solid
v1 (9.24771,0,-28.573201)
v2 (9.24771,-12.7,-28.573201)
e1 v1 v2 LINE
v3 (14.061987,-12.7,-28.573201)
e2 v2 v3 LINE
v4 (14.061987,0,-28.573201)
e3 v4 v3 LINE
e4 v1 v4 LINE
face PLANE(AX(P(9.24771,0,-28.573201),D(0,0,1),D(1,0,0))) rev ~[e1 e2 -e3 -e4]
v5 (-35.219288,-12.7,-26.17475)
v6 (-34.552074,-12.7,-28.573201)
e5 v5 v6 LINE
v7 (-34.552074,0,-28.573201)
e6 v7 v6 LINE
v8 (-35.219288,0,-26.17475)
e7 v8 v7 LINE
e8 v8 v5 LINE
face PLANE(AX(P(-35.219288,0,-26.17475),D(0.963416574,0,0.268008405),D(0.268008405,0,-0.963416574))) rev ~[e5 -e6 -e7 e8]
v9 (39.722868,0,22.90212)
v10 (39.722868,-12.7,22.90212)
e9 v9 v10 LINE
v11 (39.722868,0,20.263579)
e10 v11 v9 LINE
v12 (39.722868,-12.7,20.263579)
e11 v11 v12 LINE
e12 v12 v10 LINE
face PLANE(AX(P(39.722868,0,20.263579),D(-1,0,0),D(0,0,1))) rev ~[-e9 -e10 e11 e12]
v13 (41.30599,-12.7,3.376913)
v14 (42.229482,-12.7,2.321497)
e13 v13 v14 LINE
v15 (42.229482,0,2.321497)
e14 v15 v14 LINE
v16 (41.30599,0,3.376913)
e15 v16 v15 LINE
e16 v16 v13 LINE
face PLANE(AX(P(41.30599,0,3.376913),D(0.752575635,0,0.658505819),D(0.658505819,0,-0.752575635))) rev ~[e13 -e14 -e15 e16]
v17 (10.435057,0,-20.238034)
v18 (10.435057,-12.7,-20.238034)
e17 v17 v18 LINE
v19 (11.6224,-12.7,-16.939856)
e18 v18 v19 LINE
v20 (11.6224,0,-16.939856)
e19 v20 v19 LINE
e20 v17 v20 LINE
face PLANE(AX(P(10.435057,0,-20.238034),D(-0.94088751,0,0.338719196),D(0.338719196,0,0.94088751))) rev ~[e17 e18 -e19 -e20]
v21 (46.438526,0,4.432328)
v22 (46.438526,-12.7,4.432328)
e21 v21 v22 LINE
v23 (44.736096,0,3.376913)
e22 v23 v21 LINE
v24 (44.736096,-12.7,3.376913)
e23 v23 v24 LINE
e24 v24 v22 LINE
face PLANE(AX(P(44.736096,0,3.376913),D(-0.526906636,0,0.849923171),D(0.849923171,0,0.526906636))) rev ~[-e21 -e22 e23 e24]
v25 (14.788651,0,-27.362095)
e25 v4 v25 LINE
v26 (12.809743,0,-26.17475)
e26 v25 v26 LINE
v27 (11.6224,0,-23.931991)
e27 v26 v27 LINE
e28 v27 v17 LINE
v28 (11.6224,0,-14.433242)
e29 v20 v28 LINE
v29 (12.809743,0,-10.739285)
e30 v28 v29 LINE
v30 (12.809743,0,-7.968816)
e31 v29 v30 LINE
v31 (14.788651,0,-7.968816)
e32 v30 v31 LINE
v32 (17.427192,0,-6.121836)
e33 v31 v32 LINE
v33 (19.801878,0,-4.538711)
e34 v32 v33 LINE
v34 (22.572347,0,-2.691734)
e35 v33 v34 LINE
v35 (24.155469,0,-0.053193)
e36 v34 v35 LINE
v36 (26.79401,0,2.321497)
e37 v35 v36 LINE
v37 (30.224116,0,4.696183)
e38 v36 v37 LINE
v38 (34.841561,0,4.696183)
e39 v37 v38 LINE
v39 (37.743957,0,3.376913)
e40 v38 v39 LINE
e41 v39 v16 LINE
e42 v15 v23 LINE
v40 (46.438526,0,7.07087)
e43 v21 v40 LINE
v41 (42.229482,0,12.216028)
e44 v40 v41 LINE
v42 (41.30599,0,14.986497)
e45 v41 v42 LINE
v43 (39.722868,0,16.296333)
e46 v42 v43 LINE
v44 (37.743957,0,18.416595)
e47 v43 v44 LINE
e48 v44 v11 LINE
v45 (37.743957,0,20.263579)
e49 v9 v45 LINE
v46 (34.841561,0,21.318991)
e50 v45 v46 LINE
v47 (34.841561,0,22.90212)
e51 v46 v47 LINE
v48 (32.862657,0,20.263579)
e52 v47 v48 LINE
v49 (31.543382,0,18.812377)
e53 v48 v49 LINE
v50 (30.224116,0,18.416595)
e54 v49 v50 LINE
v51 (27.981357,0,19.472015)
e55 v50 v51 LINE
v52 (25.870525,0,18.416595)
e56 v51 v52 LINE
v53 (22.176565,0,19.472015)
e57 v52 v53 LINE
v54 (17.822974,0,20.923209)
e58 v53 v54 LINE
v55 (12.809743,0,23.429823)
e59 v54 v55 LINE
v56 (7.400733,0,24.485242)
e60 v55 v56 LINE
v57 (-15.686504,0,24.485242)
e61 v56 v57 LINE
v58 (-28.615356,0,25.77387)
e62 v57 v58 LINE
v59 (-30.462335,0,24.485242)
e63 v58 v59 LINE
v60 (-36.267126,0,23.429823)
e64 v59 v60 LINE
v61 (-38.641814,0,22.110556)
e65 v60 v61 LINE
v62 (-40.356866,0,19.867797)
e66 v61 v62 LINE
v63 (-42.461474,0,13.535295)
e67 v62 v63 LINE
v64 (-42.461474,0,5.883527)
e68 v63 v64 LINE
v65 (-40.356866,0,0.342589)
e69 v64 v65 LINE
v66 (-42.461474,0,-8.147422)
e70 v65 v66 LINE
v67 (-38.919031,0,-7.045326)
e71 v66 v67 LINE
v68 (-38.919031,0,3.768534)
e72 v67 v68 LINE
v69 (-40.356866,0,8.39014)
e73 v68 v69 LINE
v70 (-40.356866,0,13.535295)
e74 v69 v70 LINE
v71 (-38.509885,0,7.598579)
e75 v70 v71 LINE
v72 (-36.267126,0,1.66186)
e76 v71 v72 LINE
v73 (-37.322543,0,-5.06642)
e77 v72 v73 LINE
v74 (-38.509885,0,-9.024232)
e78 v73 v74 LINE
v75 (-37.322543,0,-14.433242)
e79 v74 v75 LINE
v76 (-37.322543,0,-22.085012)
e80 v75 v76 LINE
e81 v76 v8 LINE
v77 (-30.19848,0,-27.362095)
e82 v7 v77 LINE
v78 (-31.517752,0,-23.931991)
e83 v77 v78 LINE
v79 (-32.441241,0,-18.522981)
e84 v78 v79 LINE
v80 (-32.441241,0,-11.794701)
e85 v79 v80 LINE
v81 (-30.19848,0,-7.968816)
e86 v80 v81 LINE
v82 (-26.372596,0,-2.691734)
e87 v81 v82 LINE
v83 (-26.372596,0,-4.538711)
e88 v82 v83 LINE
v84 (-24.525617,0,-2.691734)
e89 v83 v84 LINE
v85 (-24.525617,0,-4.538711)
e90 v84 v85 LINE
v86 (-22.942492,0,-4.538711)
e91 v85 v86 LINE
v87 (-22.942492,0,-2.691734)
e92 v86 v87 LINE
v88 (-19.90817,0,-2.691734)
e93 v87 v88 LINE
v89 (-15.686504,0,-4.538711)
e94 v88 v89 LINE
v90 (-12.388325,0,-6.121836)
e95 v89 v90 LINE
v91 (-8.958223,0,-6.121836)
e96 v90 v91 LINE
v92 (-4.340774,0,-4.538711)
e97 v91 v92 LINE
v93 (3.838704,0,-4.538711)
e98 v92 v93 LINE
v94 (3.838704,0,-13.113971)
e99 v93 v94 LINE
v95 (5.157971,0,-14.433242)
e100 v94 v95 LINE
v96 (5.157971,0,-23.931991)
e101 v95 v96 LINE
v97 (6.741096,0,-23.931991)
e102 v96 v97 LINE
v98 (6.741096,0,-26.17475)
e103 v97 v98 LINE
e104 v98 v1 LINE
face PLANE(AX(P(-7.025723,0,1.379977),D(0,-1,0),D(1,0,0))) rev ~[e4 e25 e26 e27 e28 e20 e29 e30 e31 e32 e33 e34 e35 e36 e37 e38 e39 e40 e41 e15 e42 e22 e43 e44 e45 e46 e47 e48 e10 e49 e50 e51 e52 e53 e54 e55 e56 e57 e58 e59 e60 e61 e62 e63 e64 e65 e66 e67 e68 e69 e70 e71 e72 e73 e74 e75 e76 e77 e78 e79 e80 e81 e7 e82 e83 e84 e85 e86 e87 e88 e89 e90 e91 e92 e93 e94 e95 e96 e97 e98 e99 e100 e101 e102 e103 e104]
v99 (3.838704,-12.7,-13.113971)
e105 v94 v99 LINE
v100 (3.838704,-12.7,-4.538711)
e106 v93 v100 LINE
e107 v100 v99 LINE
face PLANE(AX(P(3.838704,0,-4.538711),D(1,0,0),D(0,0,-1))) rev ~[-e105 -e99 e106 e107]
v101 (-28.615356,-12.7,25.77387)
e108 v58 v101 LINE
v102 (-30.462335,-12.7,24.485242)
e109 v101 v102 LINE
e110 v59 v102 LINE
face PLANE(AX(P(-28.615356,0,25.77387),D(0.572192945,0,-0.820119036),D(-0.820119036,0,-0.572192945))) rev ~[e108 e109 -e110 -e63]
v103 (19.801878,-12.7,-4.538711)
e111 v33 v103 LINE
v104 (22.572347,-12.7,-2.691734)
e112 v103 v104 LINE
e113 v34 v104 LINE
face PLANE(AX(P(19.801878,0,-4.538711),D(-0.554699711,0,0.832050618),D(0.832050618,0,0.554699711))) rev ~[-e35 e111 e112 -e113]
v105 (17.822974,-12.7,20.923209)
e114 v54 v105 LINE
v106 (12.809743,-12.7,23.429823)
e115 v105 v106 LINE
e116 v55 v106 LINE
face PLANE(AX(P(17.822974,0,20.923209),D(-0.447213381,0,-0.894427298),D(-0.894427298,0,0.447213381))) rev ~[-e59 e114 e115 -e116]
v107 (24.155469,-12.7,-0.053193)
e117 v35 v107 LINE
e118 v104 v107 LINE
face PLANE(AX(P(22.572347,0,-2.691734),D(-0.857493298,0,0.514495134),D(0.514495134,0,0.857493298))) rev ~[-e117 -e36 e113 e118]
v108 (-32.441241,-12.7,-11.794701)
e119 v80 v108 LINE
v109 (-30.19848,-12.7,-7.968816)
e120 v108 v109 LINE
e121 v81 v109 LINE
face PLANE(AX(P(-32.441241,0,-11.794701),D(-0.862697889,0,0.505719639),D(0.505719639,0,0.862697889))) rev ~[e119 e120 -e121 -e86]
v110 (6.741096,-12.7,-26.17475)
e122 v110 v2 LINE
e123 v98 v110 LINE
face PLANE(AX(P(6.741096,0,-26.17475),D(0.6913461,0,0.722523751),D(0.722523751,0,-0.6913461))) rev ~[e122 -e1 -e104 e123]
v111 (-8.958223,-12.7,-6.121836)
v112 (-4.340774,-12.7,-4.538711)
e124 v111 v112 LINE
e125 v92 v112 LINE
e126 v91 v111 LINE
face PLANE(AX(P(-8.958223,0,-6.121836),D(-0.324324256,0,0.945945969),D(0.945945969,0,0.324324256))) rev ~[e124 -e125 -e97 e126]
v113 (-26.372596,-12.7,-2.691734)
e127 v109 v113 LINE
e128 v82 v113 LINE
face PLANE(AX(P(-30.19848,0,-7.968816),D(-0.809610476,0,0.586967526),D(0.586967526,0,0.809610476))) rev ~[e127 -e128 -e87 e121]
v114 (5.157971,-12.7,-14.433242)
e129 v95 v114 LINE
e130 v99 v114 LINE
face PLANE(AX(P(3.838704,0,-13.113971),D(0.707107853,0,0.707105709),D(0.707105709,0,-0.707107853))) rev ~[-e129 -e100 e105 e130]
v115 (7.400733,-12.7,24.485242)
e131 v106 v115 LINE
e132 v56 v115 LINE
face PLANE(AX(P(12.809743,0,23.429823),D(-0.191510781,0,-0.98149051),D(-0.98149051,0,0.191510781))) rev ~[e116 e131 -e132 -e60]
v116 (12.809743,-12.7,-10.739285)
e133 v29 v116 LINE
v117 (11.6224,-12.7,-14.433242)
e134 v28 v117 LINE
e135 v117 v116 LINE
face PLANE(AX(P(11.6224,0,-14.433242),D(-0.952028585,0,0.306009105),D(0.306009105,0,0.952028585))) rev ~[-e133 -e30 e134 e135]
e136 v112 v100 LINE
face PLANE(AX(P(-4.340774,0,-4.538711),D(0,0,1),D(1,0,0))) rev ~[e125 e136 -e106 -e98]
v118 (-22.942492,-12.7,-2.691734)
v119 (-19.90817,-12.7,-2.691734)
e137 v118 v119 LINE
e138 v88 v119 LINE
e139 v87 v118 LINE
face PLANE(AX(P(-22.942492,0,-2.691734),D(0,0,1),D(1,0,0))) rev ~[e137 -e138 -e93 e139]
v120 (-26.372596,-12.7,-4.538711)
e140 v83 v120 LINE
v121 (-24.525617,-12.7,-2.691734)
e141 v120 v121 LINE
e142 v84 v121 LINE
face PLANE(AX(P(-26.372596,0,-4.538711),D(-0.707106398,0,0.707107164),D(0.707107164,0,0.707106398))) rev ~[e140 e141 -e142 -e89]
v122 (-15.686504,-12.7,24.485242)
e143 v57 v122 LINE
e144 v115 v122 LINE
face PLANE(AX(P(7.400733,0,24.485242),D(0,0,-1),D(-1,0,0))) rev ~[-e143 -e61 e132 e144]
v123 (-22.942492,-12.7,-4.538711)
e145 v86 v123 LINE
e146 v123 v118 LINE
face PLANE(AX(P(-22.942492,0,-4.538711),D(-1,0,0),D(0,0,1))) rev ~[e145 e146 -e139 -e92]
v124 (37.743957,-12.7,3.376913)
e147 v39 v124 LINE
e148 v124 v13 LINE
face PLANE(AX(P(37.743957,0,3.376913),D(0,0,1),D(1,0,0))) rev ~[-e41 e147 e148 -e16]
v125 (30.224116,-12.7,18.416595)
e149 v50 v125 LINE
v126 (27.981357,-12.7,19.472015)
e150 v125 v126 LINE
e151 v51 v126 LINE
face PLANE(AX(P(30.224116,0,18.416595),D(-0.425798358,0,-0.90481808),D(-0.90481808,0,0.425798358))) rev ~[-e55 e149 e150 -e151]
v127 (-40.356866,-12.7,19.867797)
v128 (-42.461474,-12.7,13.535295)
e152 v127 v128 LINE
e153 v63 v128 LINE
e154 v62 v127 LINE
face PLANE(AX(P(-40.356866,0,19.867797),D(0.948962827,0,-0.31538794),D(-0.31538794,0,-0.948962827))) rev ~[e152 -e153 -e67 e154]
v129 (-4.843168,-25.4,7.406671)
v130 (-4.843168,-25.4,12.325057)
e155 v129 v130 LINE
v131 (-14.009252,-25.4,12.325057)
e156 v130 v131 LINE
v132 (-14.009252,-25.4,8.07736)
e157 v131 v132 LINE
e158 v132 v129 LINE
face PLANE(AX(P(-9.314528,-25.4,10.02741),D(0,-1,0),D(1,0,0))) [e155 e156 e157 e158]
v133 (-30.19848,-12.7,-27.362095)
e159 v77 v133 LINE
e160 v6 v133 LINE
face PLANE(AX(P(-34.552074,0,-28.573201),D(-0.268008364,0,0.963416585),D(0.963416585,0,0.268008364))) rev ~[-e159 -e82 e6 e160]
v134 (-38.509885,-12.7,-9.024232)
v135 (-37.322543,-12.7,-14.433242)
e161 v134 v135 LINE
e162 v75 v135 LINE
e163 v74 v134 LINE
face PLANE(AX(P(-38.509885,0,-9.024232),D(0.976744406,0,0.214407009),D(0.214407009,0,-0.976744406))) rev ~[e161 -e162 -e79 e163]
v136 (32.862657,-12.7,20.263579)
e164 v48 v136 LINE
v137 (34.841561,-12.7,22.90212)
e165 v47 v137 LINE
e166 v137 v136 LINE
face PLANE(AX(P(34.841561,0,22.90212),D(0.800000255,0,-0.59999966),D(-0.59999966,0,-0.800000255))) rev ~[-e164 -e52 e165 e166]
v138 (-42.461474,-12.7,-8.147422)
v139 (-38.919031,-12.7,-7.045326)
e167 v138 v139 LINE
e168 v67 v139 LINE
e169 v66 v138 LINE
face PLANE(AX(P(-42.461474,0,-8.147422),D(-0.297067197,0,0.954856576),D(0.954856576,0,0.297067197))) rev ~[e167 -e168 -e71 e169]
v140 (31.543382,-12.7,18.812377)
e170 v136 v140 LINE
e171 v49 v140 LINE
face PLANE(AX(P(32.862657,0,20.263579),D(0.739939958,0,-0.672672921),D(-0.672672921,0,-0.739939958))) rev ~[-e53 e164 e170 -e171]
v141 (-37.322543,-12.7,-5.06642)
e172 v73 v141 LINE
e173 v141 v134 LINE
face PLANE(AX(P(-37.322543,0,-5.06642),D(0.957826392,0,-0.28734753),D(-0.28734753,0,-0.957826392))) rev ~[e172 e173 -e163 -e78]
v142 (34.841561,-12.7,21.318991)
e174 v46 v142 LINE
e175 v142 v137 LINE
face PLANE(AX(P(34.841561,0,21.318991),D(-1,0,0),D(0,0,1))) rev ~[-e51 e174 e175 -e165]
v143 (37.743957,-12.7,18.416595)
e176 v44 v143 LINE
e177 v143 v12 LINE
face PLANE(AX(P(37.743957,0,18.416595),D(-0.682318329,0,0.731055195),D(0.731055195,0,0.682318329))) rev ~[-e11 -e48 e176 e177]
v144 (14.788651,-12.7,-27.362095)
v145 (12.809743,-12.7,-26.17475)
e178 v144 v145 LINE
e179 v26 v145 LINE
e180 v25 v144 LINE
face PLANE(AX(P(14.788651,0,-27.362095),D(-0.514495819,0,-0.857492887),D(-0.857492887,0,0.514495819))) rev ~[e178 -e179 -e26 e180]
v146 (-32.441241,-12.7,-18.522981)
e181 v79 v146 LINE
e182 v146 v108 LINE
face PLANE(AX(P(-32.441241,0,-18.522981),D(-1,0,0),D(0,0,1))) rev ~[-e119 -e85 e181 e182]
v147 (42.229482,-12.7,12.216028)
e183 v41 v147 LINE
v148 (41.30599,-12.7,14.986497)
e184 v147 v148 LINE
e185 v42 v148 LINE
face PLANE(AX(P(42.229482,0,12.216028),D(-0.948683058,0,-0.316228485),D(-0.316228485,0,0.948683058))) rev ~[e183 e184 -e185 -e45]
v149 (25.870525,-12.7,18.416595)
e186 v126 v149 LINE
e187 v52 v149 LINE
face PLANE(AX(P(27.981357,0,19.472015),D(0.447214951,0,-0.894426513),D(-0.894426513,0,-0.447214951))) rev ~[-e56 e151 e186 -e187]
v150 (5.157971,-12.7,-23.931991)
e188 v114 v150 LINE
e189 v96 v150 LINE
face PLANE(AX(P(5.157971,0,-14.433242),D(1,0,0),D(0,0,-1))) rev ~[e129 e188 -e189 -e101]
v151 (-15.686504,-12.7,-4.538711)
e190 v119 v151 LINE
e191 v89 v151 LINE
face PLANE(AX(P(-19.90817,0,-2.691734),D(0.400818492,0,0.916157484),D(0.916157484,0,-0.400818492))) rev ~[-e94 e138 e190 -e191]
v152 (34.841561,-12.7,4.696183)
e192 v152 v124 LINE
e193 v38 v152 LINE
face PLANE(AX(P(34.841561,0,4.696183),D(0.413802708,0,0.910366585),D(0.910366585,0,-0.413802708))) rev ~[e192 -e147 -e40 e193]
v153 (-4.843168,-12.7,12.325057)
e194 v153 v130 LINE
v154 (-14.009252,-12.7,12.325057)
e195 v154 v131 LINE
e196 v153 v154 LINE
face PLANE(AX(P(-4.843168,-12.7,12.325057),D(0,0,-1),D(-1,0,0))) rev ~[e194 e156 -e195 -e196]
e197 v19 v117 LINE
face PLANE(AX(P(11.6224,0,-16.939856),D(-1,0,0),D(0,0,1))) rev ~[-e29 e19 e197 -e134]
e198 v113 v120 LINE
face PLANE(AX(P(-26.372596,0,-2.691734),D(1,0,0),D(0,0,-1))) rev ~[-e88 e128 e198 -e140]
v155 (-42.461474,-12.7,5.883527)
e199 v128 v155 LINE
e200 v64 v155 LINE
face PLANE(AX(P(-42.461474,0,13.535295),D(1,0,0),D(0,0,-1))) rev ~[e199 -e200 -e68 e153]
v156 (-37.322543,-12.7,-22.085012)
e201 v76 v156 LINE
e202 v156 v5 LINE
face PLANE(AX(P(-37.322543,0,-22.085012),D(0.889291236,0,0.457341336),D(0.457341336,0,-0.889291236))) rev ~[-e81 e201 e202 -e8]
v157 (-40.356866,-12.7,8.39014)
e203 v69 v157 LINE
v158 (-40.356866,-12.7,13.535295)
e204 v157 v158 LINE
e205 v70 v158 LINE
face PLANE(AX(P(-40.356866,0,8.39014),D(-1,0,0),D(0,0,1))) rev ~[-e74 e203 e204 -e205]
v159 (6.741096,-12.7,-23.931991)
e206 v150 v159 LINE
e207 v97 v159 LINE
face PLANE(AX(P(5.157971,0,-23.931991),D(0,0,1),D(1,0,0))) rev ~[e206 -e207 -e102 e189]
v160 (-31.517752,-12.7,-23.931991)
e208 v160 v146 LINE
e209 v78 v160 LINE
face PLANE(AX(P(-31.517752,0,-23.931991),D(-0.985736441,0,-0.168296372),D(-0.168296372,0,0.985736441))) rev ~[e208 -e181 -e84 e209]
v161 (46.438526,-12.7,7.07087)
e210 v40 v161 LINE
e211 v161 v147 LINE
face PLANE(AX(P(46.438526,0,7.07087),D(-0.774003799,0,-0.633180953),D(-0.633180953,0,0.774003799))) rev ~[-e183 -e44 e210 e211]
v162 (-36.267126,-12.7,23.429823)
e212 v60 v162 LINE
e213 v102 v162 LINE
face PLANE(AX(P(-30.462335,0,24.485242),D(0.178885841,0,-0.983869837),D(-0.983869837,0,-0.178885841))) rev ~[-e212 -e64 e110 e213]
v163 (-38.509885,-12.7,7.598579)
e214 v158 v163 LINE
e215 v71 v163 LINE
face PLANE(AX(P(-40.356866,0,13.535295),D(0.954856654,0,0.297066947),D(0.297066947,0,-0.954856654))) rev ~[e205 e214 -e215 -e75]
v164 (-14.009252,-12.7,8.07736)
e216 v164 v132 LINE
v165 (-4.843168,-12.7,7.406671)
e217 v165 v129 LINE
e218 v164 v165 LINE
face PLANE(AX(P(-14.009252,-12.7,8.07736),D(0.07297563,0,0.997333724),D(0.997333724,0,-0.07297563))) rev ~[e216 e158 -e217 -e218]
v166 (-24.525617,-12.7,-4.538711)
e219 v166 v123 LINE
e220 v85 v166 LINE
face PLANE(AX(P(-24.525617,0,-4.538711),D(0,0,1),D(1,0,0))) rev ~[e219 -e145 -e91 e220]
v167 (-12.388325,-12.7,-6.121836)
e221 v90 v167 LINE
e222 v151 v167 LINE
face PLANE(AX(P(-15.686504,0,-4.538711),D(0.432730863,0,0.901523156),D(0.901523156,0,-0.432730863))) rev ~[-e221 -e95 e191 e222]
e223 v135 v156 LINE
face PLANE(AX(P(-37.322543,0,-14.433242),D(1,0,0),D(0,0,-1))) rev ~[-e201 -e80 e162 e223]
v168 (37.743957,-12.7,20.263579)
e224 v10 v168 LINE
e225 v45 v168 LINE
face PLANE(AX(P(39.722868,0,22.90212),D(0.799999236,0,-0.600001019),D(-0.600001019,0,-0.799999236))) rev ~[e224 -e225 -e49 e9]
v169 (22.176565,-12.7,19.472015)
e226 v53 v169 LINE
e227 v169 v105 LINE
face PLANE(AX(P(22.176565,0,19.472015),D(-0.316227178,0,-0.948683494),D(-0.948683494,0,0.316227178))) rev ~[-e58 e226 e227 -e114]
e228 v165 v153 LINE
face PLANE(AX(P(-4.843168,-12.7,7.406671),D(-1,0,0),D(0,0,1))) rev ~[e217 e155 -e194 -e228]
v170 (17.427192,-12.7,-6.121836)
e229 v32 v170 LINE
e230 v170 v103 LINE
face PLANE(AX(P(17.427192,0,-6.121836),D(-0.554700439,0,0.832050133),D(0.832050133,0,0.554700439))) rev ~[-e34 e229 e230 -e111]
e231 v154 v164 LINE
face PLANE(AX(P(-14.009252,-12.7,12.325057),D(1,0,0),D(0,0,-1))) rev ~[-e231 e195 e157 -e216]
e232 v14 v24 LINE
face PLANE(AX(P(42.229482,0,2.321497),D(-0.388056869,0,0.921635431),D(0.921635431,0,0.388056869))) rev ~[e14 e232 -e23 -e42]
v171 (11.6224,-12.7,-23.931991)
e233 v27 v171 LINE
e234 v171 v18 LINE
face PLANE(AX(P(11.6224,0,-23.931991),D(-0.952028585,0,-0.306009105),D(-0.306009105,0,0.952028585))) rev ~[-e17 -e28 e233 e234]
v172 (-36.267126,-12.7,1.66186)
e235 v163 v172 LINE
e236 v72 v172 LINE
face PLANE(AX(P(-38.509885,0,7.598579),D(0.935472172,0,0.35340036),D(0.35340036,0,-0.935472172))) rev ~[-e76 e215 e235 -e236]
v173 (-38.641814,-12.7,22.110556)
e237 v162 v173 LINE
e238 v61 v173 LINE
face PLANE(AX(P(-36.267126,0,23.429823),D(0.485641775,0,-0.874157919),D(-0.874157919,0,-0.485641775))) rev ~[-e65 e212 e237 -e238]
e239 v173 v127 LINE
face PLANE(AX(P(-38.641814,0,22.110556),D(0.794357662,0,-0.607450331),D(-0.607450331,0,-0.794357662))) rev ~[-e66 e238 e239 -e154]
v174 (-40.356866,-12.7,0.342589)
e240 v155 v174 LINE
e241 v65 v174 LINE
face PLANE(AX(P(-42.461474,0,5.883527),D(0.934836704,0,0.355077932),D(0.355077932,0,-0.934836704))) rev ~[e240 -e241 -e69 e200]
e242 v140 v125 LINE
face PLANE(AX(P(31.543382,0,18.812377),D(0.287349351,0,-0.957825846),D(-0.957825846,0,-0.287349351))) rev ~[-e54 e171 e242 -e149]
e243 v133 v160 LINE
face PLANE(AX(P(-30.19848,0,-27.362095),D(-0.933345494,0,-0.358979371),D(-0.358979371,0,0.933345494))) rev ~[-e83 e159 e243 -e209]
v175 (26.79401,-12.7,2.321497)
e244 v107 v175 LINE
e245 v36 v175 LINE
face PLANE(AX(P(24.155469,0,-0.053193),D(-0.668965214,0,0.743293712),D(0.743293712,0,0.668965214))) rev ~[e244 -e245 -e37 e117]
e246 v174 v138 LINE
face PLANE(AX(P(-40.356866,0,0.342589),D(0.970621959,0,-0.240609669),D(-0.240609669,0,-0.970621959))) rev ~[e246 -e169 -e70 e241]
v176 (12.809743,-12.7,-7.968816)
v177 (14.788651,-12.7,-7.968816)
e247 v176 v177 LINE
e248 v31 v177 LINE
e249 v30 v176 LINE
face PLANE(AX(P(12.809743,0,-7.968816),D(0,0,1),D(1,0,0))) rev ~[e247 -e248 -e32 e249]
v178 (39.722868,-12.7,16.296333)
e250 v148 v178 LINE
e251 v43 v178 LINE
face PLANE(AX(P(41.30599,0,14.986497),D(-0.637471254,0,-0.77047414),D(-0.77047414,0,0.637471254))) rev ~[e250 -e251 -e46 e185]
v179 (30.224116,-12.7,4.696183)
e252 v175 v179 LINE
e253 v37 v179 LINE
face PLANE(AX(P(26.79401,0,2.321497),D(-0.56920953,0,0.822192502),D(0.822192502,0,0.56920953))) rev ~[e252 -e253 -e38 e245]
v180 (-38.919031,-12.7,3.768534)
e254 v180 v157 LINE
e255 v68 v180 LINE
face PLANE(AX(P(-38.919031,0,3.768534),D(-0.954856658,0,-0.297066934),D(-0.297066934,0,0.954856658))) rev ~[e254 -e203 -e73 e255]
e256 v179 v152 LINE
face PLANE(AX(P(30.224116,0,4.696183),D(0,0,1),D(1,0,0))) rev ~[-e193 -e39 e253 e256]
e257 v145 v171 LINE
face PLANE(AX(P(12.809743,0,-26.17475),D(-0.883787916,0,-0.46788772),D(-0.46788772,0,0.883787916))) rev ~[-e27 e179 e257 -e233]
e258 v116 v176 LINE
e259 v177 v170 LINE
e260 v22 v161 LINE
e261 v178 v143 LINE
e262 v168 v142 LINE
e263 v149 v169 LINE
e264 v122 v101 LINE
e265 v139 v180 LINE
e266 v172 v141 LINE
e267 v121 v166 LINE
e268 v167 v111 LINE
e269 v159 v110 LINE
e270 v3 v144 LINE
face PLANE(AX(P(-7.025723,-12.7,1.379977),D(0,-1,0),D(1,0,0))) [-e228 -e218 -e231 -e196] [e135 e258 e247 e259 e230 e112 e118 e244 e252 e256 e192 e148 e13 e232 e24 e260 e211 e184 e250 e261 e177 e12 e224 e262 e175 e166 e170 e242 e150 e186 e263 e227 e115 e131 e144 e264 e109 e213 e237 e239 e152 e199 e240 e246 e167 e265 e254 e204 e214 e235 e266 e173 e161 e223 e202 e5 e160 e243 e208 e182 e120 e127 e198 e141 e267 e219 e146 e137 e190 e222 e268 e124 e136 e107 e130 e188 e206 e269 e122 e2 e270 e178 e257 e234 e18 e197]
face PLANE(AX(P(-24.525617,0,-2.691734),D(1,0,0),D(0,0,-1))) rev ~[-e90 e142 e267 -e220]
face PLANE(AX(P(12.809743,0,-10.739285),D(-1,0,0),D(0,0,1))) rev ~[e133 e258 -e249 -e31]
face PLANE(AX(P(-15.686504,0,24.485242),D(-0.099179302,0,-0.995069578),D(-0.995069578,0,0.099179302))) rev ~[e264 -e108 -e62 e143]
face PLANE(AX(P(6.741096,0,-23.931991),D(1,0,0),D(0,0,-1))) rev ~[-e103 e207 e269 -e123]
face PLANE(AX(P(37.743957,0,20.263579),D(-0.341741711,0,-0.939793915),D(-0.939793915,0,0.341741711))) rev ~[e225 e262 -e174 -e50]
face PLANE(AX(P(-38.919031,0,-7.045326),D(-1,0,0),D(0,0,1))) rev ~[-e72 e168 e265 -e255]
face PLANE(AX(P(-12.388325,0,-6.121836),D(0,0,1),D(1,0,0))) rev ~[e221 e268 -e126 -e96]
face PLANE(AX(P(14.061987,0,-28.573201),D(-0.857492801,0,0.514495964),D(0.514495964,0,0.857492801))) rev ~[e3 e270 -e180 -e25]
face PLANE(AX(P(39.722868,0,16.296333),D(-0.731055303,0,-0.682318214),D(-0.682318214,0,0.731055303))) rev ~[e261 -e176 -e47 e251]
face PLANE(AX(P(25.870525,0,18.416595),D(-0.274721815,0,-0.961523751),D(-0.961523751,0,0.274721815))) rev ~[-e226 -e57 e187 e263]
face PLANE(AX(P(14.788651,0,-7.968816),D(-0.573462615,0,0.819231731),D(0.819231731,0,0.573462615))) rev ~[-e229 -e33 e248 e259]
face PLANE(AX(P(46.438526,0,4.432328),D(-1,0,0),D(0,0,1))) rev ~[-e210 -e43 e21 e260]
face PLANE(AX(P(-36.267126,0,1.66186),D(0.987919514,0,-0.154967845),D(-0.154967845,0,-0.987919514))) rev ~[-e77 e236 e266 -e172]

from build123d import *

# Parameters (mm, degrees)
F1_DEPTH = 12.7
F3_DEPTH = 12.7


with BuildPart() as f1:
    # F0 (on Front) → F1 (new body)
    with BuildSketch(Plane.XZ):
        Polygon((-28.615356, 25.77387), (-30.462335, 24.485242), (-36.267126, 23.429823), (-38.641814, 22.110556), (-40.356866, 19.867797), (-42.461474, 13.535295), (-42.461474, 5.883527), (-40.356866, 0.342589), (-42.461474, -8.147422), (-38.919031, -7.045326), (-38.919031, -0.844754), (-38.919031, 3.768534), (-40.356866, 8.39014), (-40.356866, 13.535295), (-38.509885, 7.598579), (-36.267126, 1.66186), (-37.322543, -5.06642), (-38.509885, -9.024232), (-37.322543, -14.433242), (-37.322543, -22.085012), (-35.219288, -26.17475), (-34.552074, -28.573201), (-30.19848, -27.362095), (-31.517752, -23.931991), (-32.441241, -18.522981), (-32.441241, -11.794701), (-30.19848, -7.968816), (-26.372596, -2.691734), (-26.372596, -4.538711), (-24.525617, -2.691734), (-24.525617, -4.538711), (-22.942492, -4.538711), (-22.942492, -2.691734), (-19.90817, -2.691734), (-15.686504, -4.538711), (-12.388325, -6.121836), (-8.958223, -6.121836), (-4.340774, -4.538711), (0.012816, -4.538711), (3.838704, -4.538711), (3.838704, -7.968816), (3.838704, -13.113971), (5.157971, -14.433242), (5.157971, -18.522981), (5.157971, -23.931991), (6.741096, -23.931991), (6.741096, -26.17475), (9.24771, -28.573201), (14.061987, -28.573201), (14.788651, -27.362095), (12.809743, -26.17475), (11.6224, -23.931991), (10.435057, -20.238034), (11.6224, -16.939856), (11.6224, -14.433242), (12.809743, -10.739285), (12.809743, -7.968816), (14.788651, -7.968816), (17.427192, -6.121836), (19.801878, -4.538711), (22.572347, -2.691734), (24.155469, -0.053193), (26.79401, 2.321497), (30.224116, 4.696183), (32.862657, 4.696183), (34.841561, 4.696183), (37.743957, 3.376913), (41.30599, 3.376913), (42.229482, 2.321497), (44.736096, 3.376913), (46.438526, 4.432328), (46.438526, 7.07087), (42.229482, 12.216028), (41.30599, 14.986497), (39.722868, 16.296333), (37.743957, 18.416595), (39.722868, 20.263579), (39.722868, 22.90212), (37.743957, 20.263579), (34.841561, 21.318991), (34.841561, 22.90212), (32.862657, 20.263579), (31.543382, 18.812377), (30.224116, 18.416595), (27.981357, 19.472015), (25.870525, 18.416595), (22.176565, 19.472015), (17.822974, 20.923209), (12.809743, 23.429823), (7.400733, 24.485242), (0.144743, 24.485242), (-8.298586, 24.485242), (-15.686504, 24.485242), align=None)
    extrude(amount=F1_DEPTH)

    # F2 (on face) → F3 (join)
    with BuildSketch(Plane.XZ.offset(12.7)):
        Polygon((-14.009252, 12.325057), (-14.009252, 8.07736), (-4.843168, 7.406671), (-4.843168, 12.325057), align=None)
    extrude(amount=F3_DEPTH)


solid = f1.part
